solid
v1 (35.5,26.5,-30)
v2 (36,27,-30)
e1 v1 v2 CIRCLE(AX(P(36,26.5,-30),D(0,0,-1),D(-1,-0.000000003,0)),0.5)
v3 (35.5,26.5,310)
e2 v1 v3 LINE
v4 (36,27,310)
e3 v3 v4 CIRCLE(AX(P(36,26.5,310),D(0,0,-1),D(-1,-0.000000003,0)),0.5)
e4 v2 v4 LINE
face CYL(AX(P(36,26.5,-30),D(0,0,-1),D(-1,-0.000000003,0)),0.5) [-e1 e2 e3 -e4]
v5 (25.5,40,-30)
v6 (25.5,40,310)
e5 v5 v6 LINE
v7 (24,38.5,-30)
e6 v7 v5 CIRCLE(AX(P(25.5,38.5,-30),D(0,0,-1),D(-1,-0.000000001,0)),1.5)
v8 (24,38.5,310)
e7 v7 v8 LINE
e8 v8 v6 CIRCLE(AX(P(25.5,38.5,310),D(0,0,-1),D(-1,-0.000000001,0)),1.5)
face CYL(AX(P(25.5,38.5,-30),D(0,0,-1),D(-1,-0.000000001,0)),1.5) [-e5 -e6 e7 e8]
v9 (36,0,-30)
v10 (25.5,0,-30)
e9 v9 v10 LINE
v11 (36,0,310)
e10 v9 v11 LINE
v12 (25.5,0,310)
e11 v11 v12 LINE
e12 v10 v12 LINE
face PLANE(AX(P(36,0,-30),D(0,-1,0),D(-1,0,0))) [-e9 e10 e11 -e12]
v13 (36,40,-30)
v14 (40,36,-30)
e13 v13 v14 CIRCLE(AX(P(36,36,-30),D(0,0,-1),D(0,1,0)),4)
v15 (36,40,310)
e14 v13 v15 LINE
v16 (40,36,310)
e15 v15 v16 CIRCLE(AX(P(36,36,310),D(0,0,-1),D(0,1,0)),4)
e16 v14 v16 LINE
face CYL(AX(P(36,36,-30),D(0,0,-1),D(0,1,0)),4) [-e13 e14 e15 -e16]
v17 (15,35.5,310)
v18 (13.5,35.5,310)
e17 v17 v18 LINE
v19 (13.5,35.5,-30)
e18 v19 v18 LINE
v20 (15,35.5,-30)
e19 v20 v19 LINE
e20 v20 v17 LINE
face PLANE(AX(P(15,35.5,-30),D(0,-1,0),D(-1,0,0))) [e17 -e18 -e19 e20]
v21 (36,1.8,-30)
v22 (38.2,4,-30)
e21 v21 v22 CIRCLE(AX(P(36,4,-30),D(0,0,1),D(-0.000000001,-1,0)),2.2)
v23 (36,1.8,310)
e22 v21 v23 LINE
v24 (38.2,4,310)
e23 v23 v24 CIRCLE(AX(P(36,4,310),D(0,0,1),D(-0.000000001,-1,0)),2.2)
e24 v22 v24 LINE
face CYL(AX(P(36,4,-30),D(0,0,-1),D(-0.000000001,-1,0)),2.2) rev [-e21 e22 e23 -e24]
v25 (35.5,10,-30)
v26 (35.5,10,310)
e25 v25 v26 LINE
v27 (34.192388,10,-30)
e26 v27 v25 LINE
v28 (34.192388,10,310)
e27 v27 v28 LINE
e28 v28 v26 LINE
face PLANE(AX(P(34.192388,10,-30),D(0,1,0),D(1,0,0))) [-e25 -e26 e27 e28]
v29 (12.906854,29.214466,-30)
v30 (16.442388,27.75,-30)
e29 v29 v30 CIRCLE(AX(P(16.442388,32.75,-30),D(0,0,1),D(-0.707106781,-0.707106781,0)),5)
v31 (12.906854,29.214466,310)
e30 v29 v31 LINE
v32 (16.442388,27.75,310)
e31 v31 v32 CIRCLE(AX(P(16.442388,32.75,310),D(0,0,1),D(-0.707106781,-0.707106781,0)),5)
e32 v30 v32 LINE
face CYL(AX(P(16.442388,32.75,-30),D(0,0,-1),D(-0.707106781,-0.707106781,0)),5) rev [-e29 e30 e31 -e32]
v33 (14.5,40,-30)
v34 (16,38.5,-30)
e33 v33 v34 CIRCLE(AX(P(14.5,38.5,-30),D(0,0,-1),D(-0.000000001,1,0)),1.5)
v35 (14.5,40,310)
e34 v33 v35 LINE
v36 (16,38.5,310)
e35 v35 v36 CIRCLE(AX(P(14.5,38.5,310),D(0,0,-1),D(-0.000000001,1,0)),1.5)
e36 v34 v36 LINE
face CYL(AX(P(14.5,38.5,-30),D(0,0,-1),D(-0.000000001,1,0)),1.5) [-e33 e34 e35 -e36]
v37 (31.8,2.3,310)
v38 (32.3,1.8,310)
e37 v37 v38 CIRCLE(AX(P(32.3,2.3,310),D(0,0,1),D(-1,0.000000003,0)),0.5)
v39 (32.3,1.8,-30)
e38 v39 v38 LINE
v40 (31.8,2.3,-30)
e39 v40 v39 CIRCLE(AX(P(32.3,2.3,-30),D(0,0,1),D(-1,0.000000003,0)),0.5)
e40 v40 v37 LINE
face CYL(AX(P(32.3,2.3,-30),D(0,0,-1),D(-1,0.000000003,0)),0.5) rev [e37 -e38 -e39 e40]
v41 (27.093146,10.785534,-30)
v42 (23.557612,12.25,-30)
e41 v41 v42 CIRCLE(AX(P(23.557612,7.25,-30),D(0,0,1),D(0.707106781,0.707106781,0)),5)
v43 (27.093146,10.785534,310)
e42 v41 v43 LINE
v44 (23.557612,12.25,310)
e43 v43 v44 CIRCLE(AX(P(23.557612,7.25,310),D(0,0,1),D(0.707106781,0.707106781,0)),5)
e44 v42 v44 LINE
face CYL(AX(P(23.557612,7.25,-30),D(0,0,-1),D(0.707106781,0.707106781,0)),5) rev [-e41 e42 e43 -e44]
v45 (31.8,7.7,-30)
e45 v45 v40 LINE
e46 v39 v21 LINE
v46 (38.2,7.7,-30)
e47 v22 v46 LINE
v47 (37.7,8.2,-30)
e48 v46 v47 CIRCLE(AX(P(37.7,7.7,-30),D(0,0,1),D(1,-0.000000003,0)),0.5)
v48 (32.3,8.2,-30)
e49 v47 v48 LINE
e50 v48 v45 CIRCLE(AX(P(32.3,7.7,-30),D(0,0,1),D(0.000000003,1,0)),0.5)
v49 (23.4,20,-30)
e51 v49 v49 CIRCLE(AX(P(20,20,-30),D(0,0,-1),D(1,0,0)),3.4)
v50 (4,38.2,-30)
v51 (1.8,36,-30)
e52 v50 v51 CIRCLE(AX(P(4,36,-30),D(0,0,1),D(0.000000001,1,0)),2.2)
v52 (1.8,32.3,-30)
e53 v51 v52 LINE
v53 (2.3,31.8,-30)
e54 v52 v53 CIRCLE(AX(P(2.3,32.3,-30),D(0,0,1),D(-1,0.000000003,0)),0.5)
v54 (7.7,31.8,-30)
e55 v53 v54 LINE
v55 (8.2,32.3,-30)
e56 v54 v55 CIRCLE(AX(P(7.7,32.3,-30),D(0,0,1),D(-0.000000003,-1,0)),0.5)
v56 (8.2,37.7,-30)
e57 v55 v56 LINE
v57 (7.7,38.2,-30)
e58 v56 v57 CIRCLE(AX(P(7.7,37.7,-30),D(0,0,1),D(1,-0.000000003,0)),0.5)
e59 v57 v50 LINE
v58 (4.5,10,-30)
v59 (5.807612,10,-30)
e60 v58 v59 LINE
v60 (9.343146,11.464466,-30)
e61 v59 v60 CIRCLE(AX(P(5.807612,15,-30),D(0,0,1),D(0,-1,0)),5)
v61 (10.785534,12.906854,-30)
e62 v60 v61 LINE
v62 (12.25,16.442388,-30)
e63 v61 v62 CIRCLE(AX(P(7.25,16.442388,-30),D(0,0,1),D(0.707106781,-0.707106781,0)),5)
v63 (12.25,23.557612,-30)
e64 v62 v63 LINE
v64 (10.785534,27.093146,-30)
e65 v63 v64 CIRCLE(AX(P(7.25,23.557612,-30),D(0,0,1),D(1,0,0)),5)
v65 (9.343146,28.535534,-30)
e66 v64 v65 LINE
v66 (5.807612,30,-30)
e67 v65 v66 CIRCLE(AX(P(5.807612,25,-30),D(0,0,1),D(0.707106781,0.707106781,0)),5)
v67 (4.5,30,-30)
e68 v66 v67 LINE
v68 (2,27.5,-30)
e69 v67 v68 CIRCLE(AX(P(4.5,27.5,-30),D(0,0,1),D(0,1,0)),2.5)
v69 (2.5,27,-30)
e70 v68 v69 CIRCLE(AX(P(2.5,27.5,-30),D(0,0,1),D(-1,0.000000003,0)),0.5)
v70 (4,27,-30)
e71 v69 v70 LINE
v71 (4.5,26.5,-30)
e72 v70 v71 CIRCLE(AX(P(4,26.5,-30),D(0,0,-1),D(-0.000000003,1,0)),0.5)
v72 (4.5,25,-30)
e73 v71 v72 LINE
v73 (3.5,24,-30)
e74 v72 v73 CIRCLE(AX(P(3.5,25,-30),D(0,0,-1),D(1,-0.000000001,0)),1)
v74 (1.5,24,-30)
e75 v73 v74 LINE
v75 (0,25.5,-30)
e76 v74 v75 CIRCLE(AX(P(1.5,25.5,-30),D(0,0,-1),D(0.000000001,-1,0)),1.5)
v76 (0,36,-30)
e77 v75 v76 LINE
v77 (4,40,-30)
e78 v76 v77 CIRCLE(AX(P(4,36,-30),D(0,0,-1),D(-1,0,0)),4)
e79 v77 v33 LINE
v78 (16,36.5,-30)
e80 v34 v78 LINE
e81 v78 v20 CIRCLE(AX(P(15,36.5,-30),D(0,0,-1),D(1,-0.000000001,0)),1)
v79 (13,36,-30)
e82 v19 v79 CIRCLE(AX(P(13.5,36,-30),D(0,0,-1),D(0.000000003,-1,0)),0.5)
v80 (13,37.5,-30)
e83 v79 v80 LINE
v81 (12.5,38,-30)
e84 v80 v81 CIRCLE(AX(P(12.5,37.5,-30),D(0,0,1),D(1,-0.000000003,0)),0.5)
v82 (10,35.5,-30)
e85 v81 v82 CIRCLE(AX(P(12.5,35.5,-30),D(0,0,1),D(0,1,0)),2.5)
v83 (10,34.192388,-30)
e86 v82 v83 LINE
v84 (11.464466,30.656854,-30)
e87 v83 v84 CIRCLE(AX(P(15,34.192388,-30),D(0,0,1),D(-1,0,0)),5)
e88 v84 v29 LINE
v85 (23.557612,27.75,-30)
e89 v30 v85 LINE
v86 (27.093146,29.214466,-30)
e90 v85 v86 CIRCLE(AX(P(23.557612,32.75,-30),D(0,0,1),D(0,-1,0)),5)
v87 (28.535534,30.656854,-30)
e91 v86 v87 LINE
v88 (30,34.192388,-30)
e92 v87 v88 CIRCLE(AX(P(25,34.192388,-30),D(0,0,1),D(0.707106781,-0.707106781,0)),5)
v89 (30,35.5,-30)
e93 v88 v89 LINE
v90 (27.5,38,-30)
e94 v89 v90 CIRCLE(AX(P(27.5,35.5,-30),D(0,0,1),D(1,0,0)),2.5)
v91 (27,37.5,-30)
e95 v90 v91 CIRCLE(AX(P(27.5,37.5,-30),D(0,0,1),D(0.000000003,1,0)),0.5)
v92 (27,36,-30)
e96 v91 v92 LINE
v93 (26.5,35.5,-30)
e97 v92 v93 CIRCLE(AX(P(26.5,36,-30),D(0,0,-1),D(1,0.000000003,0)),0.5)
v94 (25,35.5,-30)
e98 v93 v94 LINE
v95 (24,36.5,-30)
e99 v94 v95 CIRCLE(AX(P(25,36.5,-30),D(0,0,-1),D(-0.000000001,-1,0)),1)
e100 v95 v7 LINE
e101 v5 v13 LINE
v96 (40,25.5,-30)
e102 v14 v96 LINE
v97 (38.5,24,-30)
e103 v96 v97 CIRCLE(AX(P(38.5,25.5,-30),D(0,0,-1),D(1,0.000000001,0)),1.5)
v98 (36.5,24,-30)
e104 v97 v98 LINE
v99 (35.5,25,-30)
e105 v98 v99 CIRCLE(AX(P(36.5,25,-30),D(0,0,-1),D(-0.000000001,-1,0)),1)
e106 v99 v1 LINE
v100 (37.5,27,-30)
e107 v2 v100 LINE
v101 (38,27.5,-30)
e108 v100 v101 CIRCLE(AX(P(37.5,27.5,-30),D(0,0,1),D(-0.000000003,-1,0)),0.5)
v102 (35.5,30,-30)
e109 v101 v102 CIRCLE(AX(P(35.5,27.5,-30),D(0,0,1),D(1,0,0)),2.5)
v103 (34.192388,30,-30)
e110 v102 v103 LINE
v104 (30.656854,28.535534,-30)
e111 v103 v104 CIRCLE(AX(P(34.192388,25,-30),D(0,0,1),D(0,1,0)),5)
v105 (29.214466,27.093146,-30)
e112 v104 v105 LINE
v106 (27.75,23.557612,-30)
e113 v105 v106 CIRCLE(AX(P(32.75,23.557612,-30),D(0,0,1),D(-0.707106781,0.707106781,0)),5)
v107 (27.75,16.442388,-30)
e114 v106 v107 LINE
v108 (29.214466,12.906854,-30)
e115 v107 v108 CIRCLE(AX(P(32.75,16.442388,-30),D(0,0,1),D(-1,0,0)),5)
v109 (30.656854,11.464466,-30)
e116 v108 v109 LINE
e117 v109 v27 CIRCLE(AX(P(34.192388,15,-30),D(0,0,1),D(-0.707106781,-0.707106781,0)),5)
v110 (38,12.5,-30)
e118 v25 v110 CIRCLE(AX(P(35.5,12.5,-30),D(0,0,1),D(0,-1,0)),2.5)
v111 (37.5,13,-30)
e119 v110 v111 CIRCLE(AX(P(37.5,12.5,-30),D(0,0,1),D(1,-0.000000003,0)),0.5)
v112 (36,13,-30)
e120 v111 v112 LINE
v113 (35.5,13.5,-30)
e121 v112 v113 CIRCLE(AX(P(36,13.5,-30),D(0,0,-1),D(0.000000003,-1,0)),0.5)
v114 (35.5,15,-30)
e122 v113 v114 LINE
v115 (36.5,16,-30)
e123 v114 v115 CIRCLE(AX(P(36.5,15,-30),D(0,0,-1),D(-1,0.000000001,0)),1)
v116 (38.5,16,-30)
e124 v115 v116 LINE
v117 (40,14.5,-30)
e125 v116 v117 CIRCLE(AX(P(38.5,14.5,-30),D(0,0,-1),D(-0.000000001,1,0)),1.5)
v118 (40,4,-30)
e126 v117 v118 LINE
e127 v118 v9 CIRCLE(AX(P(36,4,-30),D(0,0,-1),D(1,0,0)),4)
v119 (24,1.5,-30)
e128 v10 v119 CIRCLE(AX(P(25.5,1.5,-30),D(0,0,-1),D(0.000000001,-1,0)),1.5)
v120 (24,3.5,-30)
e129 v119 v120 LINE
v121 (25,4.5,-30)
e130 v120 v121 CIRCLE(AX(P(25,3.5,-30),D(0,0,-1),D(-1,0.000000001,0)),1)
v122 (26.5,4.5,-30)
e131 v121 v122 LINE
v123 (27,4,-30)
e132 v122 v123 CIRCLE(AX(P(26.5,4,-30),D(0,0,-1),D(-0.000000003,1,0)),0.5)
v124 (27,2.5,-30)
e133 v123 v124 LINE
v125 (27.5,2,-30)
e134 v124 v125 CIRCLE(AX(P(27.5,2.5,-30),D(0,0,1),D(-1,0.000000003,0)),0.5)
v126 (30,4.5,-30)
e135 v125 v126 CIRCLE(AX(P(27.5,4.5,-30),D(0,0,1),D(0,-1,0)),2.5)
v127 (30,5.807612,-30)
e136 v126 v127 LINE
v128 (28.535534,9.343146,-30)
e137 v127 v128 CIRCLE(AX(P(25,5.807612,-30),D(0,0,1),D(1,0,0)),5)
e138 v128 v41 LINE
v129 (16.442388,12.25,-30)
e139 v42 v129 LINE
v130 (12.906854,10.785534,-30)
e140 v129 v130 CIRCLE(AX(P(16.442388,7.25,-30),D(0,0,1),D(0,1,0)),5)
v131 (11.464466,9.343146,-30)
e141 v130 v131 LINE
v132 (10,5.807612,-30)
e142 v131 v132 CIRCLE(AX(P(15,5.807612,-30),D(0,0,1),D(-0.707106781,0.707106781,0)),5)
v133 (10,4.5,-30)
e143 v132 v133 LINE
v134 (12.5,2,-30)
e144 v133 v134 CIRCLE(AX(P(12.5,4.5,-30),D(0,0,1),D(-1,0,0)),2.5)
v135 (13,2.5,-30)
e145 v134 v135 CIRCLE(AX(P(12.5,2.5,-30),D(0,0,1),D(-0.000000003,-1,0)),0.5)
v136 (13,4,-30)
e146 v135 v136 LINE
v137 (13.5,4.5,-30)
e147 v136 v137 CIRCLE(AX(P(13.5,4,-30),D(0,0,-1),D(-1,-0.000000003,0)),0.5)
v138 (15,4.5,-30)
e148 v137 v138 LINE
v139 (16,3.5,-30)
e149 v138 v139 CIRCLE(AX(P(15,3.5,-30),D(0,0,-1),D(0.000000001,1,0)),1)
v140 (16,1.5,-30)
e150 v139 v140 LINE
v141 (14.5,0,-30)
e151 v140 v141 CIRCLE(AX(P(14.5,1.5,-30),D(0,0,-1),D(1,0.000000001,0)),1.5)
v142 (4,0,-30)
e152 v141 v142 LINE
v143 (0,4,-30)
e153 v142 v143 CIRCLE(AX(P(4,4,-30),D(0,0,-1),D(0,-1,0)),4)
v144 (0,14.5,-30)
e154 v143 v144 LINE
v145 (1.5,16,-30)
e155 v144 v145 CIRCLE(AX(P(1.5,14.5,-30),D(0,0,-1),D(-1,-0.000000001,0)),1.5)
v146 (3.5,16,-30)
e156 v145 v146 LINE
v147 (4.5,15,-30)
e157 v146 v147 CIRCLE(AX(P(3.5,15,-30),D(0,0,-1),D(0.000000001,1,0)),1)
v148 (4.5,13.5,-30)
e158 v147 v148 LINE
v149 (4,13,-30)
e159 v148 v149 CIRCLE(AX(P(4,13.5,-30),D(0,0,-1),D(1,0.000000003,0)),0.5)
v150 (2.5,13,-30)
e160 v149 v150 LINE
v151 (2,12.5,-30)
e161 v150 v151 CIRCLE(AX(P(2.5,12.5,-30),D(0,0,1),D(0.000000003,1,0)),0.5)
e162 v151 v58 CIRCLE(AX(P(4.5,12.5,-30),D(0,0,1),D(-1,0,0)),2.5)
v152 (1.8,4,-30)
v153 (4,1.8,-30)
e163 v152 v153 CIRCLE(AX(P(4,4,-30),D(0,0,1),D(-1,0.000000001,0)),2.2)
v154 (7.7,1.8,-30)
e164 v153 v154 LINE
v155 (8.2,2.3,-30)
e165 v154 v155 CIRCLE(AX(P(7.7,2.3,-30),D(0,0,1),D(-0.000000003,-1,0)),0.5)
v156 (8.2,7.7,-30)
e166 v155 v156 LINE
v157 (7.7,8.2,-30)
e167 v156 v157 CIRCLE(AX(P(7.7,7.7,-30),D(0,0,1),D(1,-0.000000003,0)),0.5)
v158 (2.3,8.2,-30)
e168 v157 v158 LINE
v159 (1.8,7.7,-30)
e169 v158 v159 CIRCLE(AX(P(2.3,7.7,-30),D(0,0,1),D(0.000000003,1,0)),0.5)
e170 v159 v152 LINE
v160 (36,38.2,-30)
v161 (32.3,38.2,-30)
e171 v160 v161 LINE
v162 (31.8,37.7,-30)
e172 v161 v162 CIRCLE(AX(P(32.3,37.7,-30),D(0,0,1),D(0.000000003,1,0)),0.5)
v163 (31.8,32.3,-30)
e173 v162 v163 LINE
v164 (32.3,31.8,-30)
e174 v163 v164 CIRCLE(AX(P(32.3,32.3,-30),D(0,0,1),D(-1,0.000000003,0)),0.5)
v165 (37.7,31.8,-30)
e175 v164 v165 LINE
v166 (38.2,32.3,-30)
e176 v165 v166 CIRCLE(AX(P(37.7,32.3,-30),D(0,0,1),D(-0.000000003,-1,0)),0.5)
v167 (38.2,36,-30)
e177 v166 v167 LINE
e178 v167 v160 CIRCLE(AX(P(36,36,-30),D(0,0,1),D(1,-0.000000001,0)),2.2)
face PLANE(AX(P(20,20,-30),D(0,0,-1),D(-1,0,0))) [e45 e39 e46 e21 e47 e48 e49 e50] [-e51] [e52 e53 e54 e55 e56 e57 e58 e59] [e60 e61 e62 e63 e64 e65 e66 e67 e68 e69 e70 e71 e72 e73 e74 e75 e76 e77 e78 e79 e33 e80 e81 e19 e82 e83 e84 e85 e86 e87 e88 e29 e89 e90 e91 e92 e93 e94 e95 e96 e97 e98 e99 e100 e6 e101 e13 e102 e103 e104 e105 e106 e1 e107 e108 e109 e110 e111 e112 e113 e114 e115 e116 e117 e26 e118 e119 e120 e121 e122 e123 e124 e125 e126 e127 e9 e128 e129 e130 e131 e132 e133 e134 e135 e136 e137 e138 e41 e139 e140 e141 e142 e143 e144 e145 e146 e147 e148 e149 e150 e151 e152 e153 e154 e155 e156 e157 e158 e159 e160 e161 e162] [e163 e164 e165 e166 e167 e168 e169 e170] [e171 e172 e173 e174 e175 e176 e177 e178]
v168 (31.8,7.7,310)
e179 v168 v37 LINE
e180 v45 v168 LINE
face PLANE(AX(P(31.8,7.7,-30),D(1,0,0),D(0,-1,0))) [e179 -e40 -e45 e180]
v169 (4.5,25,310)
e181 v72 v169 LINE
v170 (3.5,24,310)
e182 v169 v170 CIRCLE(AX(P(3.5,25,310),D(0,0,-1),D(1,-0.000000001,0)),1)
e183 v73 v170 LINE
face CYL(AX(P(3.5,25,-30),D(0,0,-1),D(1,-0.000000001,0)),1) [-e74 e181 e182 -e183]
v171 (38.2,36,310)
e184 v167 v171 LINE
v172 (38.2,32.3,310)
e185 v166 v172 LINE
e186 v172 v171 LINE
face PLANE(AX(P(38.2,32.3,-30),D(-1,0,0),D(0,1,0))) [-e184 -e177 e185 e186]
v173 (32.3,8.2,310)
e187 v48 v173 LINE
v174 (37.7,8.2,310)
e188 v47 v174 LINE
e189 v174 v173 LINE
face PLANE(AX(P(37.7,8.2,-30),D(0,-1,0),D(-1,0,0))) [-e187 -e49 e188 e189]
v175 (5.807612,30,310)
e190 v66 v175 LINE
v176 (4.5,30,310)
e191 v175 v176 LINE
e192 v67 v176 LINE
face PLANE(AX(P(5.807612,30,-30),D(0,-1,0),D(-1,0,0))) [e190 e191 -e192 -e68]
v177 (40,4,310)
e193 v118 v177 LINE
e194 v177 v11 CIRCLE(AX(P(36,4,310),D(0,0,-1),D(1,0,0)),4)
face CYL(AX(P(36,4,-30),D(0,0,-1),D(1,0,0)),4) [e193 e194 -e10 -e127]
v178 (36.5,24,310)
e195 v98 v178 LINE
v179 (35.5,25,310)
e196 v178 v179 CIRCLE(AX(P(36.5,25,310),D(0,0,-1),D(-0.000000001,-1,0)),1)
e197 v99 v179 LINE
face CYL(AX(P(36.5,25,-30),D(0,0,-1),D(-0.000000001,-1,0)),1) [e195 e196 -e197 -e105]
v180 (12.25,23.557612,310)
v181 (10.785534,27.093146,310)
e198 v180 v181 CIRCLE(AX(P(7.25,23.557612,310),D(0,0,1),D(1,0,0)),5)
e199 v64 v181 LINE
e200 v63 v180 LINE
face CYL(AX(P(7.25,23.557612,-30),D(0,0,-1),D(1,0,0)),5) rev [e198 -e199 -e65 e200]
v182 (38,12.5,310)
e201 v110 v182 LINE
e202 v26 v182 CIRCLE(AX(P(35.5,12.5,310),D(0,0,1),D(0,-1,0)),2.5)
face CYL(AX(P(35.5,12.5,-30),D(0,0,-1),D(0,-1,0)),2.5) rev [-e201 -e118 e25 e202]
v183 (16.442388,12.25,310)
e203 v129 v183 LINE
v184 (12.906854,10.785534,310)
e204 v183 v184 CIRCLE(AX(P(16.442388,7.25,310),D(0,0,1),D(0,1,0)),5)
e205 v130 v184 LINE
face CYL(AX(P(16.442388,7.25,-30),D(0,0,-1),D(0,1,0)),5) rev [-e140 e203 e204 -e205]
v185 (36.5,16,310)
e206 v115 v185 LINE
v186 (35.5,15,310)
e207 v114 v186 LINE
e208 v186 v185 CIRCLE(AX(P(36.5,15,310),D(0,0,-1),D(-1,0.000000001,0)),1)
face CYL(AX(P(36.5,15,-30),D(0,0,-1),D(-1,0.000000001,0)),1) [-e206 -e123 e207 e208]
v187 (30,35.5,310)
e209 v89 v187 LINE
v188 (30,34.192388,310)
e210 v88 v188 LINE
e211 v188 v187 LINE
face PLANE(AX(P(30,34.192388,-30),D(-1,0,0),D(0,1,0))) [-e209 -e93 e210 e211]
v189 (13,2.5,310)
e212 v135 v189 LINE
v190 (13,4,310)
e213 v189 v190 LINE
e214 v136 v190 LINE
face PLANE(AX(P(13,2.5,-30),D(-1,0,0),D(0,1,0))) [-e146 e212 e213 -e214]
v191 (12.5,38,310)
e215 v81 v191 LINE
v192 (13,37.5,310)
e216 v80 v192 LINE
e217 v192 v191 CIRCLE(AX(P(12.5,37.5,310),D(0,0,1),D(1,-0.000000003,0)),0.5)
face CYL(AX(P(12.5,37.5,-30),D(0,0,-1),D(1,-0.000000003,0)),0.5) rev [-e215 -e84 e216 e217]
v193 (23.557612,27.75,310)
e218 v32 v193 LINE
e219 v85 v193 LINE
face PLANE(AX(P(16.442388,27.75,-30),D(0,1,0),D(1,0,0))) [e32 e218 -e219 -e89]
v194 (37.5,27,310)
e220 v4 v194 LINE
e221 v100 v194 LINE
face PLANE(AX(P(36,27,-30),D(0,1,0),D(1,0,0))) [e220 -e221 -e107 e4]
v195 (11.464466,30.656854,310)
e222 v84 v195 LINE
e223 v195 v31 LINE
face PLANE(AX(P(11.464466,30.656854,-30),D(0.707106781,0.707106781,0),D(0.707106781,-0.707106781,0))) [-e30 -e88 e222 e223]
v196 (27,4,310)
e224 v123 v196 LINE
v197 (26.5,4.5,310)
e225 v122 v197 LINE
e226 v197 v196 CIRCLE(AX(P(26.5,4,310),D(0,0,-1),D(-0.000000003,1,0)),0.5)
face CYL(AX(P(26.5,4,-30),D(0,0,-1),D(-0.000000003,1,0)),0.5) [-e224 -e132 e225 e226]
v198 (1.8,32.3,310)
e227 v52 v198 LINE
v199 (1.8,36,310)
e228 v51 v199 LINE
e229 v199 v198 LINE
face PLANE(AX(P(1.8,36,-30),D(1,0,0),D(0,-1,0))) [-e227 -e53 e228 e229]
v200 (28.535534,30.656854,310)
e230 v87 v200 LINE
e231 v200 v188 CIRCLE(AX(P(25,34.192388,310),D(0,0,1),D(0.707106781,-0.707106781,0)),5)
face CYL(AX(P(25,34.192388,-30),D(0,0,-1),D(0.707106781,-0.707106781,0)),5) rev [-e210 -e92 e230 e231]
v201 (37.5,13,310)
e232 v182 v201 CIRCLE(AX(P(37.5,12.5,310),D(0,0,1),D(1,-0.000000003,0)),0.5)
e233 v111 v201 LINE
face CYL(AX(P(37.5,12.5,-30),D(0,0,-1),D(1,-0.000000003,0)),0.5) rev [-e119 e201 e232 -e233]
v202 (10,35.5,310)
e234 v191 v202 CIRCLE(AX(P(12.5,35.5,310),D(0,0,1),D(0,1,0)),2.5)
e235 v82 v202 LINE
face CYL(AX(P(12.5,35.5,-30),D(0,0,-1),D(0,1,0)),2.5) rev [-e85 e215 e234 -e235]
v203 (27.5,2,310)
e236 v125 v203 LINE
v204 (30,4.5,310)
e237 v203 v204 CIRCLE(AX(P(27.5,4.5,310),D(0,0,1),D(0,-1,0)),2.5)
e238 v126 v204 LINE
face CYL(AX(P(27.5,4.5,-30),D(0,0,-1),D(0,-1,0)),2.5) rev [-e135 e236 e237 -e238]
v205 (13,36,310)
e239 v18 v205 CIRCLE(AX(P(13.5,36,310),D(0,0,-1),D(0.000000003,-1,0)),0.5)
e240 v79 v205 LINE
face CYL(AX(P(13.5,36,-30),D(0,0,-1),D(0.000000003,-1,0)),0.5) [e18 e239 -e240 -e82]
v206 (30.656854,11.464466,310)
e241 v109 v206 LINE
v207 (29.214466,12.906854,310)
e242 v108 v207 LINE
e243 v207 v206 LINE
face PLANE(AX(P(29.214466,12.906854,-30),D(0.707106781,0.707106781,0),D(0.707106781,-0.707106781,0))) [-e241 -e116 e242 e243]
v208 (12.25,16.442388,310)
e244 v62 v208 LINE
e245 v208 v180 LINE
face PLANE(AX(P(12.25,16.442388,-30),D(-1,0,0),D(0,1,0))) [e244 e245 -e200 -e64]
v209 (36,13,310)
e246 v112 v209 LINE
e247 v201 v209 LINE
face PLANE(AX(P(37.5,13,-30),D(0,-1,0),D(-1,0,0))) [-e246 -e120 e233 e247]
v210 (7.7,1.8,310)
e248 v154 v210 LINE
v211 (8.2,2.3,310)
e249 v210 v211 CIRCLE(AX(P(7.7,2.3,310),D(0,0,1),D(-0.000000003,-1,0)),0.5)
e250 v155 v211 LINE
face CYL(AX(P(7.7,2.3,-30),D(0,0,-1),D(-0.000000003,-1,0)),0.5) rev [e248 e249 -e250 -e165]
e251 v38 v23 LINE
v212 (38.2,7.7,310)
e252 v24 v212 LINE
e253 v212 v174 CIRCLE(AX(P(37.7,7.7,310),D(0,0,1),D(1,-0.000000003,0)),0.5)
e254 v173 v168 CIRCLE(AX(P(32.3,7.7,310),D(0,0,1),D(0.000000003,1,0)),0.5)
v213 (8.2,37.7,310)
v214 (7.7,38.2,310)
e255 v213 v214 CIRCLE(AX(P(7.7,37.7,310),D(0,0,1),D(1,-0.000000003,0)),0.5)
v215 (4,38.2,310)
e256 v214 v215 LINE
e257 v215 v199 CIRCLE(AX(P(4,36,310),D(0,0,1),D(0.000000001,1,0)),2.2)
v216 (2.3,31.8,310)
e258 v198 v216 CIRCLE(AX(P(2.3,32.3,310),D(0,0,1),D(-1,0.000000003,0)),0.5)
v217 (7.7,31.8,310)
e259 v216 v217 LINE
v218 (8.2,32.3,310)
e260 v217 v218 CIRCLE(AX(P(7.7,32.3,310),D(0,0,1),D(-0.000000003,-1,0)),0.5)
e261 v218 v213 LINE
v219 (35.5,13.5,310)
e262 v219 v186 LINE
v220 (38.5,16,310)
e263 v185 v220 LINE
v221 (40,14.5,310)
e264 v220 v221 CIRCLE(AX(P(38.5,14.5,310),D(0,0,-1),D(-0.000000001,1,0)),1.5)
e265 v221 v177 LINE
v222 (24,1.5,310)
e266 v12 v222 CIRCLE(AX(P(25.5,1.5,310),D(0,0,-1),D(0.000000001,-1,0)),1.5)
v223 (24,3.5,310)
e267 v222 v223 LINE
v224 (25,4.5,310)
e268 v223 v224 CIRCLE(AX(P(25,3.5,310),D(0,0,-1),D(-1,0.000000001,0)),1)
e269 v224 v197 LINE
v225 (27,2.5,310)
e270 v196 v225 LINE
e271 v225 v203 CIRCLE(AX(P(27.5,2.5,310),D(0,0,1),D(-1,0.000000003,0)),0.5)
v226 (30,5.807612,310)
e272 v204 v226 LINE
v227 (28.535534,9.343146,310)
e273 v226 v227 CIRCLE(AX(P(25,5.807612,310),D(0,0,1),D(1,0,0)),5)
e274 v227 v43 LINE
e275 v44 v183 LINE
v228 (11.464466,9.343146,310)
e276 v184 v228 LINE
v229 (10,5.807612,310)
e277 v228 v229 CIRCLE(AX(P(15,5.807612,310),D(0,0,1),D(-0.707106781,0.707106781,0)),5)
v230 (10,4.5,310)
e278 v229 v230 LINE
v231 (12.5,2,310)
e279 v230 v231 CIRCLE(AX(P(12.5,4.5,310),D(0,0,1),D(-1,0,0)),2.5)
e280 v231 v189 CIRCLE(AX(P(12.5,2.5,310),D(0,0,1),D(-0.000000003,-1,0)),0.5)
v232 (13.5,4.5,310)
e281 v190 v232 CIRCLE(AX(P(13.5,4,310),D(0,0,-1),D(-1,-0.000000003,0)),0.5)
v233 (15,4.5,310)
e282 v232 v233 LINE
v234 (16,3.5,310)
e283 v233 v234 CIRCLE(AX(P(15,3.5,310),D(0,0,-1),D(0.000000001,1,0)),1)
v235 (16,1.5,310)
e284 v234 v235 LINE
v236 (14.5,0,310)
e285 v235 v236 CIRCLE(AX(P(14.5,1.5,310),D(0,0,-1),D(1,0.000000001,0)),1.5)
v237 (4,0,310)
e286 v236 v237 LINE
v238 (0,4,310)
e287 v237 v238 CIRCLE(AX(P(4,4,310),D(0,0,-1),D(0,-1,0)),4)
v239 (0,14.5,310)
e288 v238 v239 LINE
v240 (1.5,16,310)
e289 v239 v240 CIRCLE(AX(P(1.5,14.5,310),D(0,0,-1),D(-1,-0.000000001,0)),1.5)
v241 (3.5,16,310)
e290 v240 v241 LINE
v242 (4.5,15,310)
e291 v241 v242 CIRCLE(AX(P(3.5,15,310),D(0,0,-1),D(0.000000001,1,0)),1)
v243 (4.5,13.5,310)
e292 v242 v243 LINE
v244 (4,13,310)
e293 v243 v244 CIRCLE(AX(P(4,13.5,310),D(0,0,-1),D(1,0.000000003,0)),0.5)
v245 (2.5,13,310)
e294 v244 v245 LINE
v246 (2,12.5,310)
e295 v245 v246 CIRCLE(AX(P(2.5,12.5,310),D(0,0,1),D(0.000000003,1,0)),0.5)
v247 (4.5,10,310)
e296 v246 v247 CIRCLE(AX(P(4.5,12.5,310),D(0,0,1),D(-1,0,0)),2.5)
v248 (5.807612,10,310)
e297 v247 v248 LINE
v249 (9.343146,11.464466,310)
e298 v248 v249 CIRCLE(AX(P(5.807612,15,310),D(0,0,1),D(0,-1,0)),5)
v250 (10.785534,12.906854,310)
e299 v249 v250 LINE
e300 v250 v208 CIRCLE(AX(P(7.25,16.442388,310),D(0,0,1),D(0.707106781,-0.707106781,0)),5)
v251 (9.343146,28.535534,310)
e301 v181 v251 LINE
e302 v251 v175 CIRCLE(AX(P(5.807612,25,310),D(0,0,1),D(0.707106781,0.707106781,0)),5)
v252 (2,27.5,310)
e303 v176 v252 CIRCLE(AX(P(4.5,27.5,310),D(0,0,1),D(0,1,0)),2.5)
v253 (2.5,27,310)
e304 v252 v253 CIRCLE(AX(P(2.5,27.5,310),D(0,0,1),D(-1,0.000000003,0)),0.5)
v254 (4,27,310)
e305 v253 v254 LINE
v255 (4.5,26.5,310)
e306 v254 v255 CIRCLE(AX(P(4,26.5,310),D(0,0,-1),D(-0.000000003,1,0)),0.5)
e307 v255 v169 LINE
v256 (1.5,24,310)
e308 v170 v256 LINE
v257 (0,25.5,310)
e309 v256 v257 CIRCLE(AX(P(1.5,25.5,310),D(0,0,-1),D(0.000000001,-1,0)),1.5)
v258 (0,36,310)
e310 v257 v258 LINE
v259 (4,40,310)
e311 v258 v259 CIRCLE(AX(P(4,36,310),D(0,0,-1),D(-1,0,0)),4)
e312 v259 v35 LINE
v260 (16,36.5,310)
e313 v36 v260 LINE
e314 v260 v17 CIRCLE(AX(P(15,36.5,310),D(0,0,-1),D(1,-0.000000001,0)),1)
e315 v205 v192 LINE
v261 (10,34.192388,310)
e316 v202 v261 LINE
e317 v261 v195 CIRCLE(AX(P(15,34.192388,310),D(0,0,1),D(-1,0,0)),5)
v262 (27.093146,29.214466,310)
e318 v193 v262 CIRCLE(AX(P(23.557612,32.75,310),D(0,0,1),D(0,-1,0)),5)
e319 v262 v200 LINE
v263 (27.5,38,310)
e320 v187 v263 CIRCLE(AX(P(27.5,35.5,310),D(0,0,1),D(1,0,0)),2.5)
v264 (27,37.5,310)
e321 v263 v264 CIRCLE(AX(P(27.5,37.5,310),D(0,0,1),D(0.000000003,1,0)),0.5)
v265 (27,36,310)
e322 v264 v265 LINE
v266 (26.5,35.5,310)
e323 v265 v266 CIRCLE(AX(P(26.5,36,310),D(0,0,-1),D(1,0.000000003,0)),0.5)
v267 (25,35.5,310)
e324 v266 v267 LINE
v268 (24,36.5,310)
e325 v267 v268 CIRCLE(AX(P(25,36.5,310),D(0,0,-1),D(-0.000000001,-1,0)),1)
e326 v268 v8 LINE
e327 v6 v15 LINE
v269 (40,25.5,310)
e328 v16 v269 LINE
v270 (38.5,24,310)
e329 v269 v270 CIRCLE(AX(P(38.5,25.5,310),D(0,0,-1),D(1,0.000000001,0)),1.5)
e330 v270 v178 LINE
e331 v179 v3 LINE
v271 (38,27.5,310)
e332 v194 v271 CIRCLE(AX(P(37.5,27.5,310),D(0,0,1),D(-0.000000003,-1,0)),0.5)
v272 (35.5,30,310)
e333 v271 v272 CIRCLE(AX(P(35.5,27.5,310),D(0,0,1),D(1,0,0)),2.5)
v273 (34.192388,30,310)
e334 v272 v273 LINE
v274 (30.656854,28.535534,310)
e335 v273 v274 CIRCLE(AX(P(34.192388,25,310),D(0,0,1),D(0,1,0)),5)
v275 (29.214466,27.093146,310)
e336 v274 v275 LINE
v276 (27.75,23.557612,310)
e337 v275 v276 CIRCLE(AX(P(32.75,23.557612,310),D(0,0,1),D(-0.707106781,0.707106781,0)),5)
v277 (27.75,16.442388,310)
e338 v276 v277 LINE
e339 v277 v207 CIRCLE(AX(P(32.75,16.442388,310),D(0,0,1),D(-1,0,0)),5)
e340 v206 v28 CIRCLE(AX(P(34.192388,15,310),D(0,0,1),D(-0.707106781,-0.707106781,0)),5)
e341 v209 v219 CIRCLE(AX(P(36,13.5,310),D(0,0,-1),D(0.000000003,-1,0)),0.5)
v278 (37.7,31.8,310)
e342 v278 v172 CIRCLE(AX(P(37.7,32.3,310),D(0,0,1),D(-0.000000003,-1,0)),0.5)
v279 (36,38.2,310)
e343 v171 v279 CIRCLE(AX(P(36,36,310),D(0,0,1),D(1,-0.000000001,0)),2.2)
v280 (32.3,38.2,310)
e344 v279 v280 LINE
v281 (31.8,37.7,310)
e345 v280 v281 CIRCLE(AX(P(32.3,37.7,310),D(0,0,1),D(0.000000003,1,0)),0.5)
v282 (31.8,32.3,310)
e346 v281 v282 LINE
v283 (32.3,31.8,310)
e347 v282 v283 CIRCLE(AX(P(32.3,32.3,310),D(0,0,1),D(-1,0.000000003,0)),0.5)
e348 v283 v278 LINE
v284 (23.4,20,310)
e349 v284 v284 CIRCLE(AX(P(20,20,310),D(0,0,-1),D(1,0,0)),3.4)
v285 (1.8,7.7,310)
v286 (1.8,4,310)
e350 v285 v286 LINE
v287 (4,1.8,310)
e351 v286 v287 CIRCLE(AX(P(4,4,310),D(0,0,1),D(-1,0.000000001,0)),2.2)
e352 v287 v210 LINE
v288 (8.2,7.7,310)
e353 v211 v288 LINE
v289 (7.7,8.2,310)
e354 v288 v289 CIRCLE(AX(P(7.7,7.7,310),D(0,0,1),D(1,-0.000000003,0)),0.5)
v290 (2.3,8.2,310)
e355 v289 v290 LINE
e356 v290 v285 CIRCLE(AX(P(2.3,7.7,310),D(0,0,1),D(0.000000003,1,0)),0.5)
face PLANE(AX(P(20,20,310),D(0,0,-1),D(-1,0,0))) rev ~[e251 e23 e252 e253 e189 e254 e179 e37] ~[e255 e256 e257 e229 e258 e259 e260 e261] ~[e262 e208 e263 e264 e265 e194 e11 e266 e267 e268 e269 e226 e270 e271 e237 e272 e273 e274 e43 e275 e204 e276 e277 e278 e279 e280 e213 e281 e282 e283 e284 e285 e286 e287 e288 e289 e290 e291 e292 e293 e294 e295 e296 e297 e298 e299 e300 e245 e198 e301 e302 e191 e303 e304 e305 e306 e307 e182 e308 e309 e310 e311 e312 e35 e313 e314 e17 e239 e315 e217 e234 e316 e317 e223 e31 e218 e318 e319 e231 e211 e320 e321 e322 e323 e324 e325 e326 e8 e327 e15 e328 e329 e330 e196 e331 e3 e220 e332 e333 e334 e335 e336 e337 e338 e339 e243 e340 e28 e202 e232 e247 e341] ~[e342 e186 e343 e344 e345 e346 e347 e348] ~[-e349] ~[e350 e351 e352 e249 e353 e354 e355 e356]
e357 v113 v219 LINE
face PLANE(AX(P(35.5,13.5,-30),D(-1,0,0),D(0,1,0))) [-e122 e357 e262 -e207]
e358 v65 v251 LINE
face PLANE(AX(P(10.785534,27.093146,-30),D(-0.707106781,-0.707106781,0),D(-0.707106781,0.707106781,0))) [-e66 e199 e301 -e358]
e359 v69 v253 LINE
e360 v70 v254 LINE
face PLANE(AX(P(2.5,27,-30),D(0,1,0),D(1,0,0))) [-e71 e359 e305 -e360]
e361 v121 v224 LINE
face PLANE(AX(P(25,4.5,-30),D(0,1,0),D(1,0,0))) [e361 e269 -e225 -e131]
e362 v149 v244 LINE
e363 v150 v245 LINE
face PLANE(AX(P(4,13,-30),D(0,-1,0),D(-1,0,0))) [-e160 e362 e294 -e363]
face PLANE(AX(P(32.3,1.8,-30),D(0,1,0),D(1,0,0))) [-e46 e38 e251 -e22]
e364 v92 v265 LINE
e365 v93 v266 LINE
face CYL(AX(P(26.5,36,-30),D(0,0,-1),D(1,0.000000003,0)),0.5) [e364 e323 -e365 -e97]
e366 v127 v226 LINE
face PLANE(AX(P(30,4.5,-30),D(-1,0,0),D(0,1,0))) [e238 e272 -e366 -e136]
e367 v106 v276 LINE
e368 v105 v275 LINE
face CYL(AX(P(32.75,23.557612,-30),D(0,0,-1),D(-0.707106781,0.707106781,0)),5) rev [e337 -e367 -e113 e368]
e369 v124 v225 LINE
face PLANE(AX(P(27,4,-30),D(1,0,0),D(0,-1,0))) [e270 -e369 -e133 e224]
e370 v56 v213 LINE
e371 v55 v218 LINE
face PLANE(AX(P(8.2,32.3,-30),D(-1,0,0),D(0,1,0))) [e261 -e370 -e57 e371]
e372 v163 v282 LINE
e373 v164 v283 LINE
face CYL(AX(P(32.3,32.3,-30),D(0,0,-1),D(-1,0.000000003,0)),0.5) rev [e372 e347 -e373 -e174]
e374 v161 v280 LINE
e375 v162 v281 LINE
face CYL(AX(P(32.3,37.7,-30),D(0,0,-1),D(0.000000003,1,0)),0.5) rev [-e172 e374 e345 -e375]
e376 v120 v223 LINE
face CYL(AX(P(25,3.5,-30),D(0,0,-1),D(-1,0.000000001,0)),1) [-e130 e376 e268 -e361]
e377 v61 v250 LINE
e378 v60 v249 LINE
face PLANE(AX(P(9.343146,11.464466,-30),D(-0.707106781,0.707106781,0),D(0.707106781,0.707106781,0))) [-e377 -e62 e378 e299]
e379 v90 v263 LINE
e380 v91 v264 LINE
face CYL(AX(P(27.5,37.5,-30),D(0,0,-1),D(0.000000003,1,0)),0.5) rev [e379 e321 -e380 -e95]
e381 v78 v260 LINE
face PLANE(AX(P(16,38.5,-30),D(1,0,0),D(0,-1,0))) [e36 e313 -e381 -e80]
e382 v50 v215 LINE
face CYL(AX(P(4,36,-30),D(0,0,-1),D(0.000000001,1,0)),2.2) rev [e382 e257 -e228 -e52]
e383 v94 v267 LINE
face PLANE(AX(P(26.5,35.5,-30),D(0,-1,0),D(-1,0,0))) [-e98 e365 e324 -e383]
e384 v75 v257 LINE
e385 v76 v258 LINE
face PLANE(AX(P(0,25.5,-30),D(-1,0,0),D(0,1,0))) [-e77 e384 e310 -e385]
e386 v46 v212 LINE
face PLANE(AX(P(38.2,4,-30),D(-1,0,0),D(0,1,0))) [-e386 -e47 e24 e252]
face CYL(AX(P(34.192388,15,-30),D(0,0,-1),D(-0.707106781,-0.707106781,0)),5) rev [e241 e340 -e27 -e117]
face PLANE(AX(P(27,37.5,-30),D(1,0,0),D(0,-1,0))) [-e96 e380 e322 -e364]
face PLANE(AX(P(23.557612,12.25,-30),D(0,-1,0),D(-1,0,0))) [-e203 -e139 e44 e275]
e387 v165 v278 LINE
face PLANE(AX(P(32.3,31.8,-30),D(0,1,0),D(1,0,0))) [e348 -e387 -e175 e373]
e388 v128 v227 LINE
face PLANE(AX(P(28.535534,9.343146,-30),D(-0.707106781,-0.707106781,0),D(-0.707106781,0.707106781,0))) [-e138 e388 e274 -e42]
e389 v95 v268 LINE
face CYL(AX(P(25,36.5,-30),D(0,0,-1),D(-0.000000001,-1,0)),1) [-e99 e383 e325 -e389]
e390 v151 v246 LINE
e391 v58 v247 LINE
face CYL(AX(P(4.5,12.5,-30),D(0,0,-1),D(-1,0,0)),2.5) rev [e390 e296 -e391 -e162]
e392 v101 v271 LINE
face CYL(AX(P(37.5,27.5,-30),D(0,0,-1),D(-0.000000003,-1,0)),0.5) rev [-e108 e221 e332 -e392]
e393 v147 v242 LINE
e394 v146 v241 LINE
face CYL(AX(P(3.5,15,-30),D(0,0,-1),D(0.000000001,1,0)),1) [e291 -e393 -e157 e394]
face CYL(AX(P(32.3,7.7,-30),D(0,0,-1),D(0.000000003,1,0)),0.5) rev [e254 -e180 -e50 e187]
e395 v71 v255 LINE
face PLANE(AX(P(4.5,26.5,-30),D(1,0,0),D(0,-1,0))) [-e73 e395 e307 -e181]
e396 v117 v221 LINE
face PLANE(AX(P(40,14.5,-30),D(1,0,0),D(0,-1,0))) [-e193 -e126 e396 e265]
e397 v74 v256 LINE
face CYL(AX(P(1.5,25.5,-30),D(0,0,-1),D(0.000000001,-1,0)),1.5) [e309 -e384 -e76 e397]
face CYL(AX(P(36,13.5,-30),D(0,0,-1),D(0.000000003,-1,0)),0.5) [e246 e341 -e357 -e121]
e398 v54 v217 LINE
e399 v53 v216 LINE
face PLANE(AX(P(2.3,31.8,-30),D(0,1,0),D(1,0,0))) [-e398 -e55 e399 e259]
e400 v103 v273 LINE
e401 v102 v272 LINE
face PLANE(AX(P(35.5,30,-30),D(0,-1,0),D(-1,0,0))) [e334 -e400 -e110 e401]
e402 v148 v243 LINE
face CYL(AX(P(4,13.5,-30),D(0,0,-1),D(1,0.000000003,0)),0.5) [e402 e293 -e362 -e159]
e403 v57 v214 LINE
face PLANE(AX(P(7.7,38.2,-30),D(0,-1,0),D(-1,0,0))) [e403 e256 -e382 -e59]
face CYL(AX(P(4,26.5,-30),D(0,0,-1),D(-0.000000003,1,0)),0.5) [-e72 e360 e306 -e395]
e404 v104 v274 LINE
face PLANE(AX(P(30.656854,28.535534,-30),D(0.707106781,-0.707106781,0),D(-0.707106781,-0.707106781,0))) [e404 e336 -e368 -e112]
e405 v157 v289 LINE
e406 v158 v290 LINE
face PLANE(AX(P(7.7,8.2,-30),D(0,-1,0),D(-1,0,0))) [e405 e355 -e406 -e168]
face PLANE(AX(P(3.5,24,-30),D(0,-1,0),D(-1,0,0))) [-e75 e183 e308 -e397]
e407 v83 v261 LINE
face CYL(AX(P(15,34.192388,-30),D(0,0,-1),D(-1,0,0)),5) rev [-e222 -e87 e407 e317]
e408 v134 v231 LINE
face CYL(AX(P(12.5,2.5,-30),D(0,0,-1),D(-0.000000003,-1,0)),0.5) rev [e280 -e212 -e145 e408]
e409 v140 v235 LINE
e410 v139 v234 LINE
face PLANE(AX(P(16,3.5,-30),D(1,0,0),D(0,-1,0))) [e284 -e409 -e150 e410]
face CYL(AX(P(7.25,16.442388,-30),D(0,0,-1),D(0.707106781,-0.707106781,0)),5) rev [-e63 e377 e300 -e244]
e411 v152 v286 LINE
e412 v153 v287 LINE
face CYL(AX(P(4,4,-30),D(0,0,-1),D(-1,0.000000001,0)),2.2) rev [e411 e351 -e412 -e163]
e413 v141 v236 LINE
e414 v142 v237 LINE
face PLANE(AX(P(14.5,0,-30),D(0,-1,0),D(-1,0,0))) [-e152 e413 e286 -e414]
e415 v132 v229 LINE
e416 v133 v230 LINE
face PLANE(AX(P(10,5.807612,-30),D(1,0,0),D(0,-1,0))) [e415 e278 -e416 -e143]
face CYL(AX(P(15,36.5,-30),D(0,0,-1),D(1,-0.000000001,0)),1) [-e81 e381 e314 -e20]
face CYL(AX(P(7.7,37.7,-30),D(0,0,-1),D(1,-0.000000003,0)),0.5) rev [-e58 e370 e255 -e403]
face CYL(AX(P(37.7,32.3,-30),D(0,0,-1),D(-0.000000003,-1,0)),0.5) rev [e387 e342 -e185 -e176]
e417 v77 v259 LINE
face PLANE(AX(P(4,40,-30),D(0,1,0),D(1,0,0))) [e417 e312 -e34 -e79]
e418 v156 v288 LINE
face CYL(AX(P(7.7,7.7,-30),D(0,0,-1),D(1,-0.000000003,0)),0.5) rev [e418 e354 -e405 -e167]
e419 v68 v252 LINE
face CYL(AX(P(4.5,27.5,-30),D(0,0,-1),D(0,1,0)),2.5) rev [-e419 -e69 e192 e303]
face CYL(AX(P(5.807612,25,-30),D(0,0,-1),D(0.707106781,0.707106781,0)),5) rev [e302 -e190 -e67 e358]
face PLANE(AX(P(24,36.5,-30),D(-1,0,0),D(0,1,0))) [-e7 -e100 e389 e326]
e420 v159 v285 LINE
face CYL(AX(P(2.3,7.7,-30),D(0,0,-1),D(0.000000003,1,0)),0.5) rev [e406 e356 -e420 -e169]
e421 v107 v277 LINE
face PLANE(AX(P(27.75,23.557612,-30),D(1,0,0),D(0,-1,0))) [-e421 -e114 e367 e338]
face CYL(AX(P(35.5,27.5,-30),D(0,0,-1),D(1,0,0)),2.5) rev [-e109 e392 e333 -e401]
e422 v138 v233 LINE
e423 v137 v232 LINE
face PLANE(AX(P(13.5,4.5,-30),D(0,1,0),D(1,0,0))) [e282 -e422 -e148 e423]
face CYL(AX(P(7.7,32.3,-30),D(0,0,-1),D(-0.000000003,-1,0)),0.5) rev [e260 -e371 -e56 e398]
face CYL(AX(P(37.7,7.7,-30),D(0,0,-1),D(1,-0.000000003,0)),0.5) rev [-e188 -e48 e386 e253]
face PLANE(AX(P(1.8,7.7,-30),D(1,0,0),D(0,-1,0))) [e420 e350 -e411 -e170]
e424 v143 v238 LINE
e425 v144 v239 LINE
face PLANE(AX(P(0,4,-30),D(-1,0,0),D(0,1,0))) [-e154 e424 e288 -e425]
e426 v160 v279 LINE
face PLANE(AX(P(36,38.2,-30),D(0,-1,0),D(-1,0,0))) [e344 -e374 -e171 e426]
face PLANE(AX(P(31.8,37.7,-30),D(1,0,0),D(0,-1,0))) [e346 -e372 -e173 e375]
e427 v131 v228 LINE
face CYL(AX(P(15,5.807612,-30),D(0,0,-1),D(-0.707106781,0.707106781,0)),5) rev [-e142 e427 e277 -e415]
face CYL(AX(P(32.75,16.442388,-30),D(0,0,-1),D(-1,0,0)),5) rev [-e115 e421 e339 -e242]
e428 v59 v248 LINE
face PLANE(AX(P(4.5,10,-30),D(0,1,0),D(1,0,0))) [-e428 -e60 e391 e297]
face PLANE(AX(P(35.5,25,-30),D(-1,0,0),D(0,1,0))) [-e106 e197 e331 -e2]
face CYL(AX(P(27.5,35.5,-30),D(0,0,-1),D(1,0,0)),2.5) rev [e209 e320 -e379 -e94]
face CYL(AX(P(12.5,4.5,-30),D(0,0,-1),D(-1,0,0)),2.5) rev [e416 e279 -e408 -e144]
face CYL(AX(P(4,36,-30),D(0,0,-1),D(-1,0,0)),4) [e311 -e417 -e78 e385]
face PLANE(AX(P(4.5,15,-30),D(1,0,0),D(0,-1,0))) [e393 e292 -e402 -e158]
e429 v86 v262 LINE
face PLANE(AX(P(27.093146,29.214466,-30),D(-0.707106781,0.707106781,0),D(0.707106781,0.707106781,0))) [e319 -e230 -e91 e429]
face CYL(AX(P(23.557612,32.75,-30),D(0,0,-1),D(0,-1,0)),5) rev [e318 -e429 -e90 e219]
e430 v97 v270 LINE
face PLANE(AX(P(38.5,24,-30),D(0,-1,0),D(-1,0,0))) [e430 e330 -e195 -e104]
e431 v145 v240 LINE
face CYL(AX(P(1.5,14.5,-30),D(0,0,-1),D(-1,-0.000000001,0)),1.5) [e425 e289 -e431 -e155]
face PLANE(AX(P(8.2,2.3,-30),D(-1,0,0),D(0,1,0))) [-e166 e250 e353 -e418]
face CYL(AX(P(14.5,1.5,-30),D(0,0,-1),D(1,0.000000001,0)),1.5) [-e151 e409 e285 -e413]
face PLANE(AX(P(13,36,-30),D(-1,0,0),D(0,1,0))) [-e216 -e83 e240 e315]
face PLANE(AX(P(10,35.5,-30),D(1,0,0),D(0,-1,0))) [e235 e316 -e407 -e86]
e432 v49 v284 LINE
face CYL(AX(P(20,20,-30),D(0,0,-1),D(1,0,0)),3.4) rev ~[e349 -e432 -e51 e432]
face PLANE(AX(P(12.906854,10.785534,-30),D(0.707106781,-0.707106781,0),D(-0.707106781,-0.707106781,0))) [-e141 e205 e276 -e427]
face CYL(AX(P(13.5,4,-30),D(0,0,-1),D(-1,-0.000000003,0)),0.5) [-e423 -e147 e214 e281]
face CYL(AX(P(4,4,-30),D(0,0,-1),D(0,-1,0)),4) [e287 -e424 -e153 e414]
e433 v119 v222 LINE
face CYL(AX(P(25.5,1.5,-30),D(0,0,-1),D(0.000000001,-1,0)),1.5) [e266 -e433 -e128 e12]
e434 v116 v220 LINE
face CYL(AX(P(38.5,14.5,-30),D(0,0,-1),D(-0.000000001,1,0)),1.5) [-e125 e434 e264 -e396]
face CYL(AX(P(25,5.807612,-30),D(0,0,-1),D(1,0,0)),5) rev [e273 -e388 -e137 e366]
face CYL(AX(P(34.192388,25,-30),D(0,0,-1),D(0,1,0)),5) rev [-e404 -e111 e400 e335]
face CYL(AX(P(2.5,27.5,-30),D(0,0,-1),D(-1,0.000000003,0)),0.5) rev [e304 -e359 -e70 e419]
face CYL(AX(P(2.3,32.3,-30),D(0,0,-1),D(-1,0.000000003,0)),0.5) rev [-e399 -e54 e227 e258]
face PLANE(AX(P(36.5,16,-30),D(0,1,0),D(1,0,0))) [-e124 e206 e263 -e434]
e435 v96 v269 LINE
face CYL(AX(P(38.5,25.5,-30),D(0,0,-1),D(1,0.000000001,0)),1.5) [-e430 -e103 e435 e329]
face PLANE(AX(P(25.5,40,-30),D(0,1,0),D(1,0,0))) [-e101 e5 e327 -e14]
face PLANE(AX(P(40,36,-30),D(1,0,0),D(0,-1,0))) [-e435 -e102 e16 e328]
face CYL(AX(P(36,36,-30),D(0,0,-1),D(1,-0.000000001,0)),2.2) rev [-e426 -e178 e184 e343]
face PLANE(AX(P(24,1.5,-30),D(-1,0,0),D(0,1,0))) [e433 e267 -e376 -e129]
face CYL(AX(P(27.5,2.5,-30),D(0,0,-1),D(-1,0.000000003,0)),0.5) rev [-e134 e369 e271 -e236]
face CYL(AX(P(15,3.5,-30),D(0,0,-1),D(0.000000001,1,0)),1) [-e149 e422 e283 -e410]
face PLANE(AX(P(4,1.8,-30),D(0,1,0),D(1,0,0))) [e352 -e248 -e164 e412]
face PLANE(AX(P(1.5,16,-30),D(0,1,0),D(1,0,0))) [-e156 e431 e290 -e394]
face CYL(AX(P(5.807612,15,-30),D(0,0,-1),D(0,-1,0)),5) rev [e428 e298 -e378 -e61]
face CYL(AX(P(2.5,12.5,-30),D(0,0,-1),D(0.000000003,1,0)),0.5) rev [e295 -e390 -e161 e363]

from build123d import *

# Parameters (mm, degrees)
ESQUISSE1_R        = 3.4
BOSS_EXTRU_1_DEPTH = 340


with BuildPart() as part:
    # Esquisse1 → Boss.-Extru.1 (new body)
    with BuildSketch(Plane(origin=(0, 0, -30), x_dir=(-1, 0, 0), z_dir=(0, 0, -1))):
        with BuildLine():
            Line((-4.5, 15), (-4.5, 13.5))
            ThreePointArc((-4.5, 13.5), (-4.353553391, 13.146446609), (-4, 13))
            Line((-4, 13), (-2.5, 13))
            ThreePointArc((-2.5, 13), (-2.146446609, 12.853553391), (-2, 12.5))
            ThreePointArc((-2, 12.5), (-2.732233047, 10.732233047), (-4.5, 10))
            Line((-4.5, 10), (-5.807611845, 10))
            ThreePointArc((-5.807611845, 10), (-7.721029006, 10.380602337), (-9.343145751, 11.464466094))
            Line((-9.343145751, 11.464466094), (-10.785533906, 12.906854249))
            ThreePointArc((-10.785533906, 12.906854249), (-11.869397663, 14.528970994), (-12.25, 16.442388155))
            Line((-12.25, 16.442388155), (-12.25, 23.557611845))
            ThreePointArc((-12.25, 23.557611845), (-11.869397663, 25.471029006), (-10.785533906, 27.093145751))
            Line((-10.785533906, 27.093145751), (-9.343145751, 28.535533906))
            ThreePointArc((-9.343145751, 28.535533906), (-7.721029006, 29.619397663), (-5.807611845, 30))
            Line((-5.807611845, 30), (-4.5, 30))
            ThreePointArc((-4.5, 30), (-2.732233047, 29.267766953), (-2, 27.5))
            ThreePointArc((-2, 27.5), (-2.146446609, 27.146446609), (-2.5, 27))
            Line((-2.5, 27), (-4, 27))
            ThreePointArc((-4, 27), (-4.353553391, 26.853553391), (-4.5, 26.5))
            Line((-4.5, 26.5), (-4.5, 25))
            ThreePointArc((-4.5, 25), (-4.207106781, 24.292893219), (-3.5, 24))
            Line((-3.5, 24), (-1.5, 24))
            ThreePointArc((-1.5, 24), (-0.439339828, 24.439339828), (0, 25.5))
            Line((0, 25.5), (0, 36))
            ThreePointArc((0, 36), (-1.171572875, 38.828427125), (-4, 40))
            Line((-4, 40), (-14.5, 40))
            ThreePointArc((-14.5, 40), (-15.560660172, 39.560660172), (-16, 38.5))
            Line((-16, 38.5), (-16, 36.5))
            ThreePointArc((-16, 36.5), (-15.707106781, 35.792893219), (-15, 35.5))
            Line((-15, 35.5), (-13.5, 35.5))
            ThreePointArc((-13.5, 35.5), (-13.146446609, 35.646446609), (-13, 36))
            Line((-13, 36), (-13, 37.5))
            ThreePointArc((-13, 37.5), (-12.853553391, 37.853553391), (-12.5, 38))
            ThreePointArc((-12.5, 38), (-10.732233047, 37.267766953), (-10, 35.5))
            Line((-10, 35.5), (-10, 34.192388155))
            ThreePointArc((-10, 34.192388155), (-10.380602337, 32.278970994), (-11.464466094, 30.656854249))
            Line((-11.464466094, 30.656854249), (-12.906854249, 29.214466094))
            ThreePointArc((-12.906854249, 29.214466094), (-14.528970994, 28.130602337), (-16.442388155, 27.75))
            Line((-16.442388155, 27.75), (-23.557611845, 27.75))
            ThreePointArc((-23.557611845, 27.75), (-25.471029006, 28.130602337), (-27.093145751, 29.214466094))
            Line((-27.093145751, 29.214466094), (-28.535533906, 30.656854249))
            ThreePointArc((-28.535533906, 30.656854249), (-29.619397663, 32.278970994), (-30, 34.192388155))
            Line((-30, 34.192388155), (-30, 35.5))
            ThreePointArc((-30, 35.5), (-29.267766953, 37.267766953), (-27.5, 38))
            ThreePointArc((-27.5, 38), (-27.146446609, 37.853553391), (-27, 37.5))
            Line((-27, 37.5), (-27, 36))
            ThreePointArc((-27, 36), (-26.853553391, 35.646446609), (-26.5, 35.5))
            Line((-26.5, 35.5), (-25, 35.5))
            ThreePointArc((-25, 35.5), (-24.292893219, 35.792893219), (-24, 36.5))
            Line((-24, 36.5), (-24, 38.5))
            ThreePointArc((-24, 38.5), (-24.439339828, 39.560660172), (-25.5, 40))
            Line((-25.5, 40), (-36, 40))
            ThreePointArc((-36, 40), (-38.828427125, 38.828427125), (-40, 36))
            Line((-40, 36), (-40, 25.5))
            ThreePointArc((-40, 25.5), (-39.560660172, 24.439339828), (-38.5, 24))
            Line((-38.5, 24), (-36.5, 24))
            ThreePointArc((-36.5, 24), (-35.792893219, 24.292893219), (-35.5, 25))
            Line((-35.5, 25), (-35.5, 26.5))
            ThreePointArc((-35.5, 26.5), (-35.646446609, 26.853553391), (-36, 27))
            Line((-36, 27), (-37.5, 27))
            ThreePointArc((-37.5, 27), (-37.853553391, 27.146446609), (-38, 27.5))
            ThreePointArc((-38, 27.5), (-37.267766953, 29.267766953), (-35.5, 30))
            Line((-35.5, 30), (-34.192388155, 30))
            ThreePointArc((-34.192388155, 30), (-32.278970994, 29.619397663), (-30.656854249, 28.535533906))
            Line((-30.656854249, 28.535533906), (-29.214466094, 27.093145751))
            ThreePointArc((-29.214466094, 27.093145751), (-28.130602337, 25.471029006), (-27.75, 23.557611845))
            Line((-27.75, 23.557611845), (-27.75, 16.442388155))
            ThreePointArc((-27.75, 16.442388155), (-28.130602337, 14.528970994), (-29.214466094, 12.906854249))
            Line((-29.214466094, 12.906854249), (-30.656854249, 11.464466094))
            ThreePointArc((-30.656854249, 11.464466094), (-32.278970994, 10.380602337), (-34.192388155, 10))
            Line((-34.192388155, 10), (-35.5, 10))
            ThreePointArc((-35.5, 10), (-37.267766953, 10.732233047), (-38, 12.5))
            ThreePointArc((-38, 12.5), (-37.853553391, 12.853553391), (-37.5, 13))
            Line((-37.5, 13), (-36, 13))
            ThreePointArc((-36, 13), (-35.646446609, 13.146446609), (-35.5, 13.5))
            Line((-35.5, 13.5), (-35.5, 15))
            ThreePointArc((-35.5, 15), (-35.792893219, 15.707106781), (-36.5, 16))
            Line((-36.5, 16), (-38.5, 16))
            ThreePointArc((-38.5, 16), (-39.560660172, 15.560660172), (-40, 14.5))
            Line((-40, 14.5), (-40, 4))
            ThreePointArc((-40, 4), (-38.828427125, 1.171572875), (-36, 0))
            Line((-36, 0), (-25.5, 0))
            ThreePointArc((-25.5, 0), (-24.439339828, 0.439339828), (-24, 1.5))
            Line((-24, 1.5), (-24, 3.5))
            ThreePointArc((-24, 3.5), (-24.292893219, 4.207106781), (-25, 4.5))
            Line((-25, 4.5), (-26.5, 4.5))
            ThreePointArc((-26.5, 4.5), (-26.853553391, 4.353553391), (-27, 4))
            Line((-27, 4), (-27, 2.5))
            ThreePointArc((-27, 2.5), (-27.146446609, 2.146446609), (-27.5, 2))
            ThreePointArc((-27.5, 2), (-29.267766953, 2.732233047), (-30, 4.5))
            Line((-30, 4.5), (-30, 5.807611845))
            ThreePointArc((-30, 5.807611845), (-29.619397663, 7.721029006), (-28.535533906, 9.343145751))
            Line((-28.535533906, 9.343145751), (-27.093145751, 10.785533906))
            ThreePointArc((-27.093145751, 10.785533906), (-25.471029006, 11.869397663), (-23.557611845, 12.25))
            Line((-23.557611845, 12.25), (-16.442388155, 12.25))
            ThreePointArc((-16.442388155, 12.25), (-14.528970994, 11.869397663), (-12.906854249, 10.785533906))
            Line((-12.906854249, 10.785533906), (-11.464466094, 9.343145751))
            ThreePointArc((-11.464466094, 9.343145751), (-10.380602337, 7.721029006), (-10, 5.807611845))
            Line((-10, 5.807611845), (-10, 4.5))
            ThreePointArc((-10, 4.5), (-10.732233047, 2.732233047), (-12.5, 2))
            ThreePointArc((-12.5, 2), (-12.853553391, 2.146446609), (-13, 2.5))
            Line((-13, 2.5), (-13, 4))
            ThreePointArc((-13, 4), (-13.146446609, 4.353553391), (-13.5, 4.5))
            Line((-13.5, 4.5), (-15, 4.5))
            ThreePointArc((-15, 4.5), (-15.707106781, 4.207106781), (-16, 3.5))
            Line((-16, 3.5), (-16, 1.5))
            ThreePointArc((-16, 1.5), (-15.560660172, 0.439339828), (-14.5, 0))
            Line((-14.5, 0), (-4, 0))
            ThreePointArc((-4, 0), (-1.171572875, 1.171572875), (0, 4))
            Line((0, 4), (0, 14.5))
            ThreePointArc((0, 14.5), (-0.439339828, 15.560660172), (-1.5, 16))
            Line((-1.5, 16), (-3.5, 16))
            ThreePointArc((-3.5, 16), (-4.207106781, 15.707106781), (-4.5, 15))
        make_face()
        with Locations(Location((-20, 20, 0), (0, 0, 180))):
            Circle(ESQUISSE1_R, mode=Mode.SUBTRACT)
        with BuildLine():
            Line((-4, 1.8), (-7.7, 1.8))
            ThreePointArc((-7.7, 1.8), (-8.053553391, 1.946446609), (-8.2, 2.3))
            Line((-8.2, 2.3), (-8.2, 7.7))
            ThreePointArc((-8.2, 7.7), (-8.053553391, 8.053553391), (-7.7, 8.2))
            Line((-7.7, 8.2), (-2.3, 8.2))
            ThreePointArc((-2.3, 8.2), (-1.946446609, 8.053553391), (-1.8, 7.7))
            Line((-1.8, 7.7), (-1.8, 4))
            ThreePointArc((-1.8, 4), (-2.444365081, 2.444365081), (-4, 1.8))
        make_face(mode=Mode.SUBTRACT)
        with BuildLine():
            Line((-38.2, 4), (-38.2, 7.7))
            ThreePointArc((-38.2, 7.7), (-38.053553391, 8.053553391), (-37.7, 8.2))
            Line((-37.7, 8.2), (-32.3, 8.2))
            ThreePointArc((-32.3, 8.2), (-31.946446609, 8.053553391), (-31.8, 7.7))
            Line((-31.8, 7.7), (-31.8, 2.3))
            ThreePointArc((-31.8, 2.3), (-31.946446609, 1.946446609), (-32.3, 1.8))
            Line((-32.3, 1.8), (-36, 1.8))
            ThreePointArc((-36, 1.8), (-37.555634919, 2.444365081), (-38.2, 4))
        make_face(mode=Mode.SUBTRACT)
        with BuildLine():
            Line((-36, 38.2), (-32.3, 38.2))
            ThreePointArc((-32.3, 38.2), (-31.946446609, 38.053553391), (-31.8, 37.7))
            Line((-31.8, 37.7), (-31.8, 32.3))
            ThreePointArc((-31.8, 32.3), (-31.946446609, 31.946446609), (-32.3, 31.8))
            Line((-32.3, 31.8), (-37.7, 31.8))
            ThreePointArc((-37.7, 31.8), (-38.053553391, 31.946446609), (-38.2, 32.3))
            Line((-38.2, 32.3), (-38.2, 36))
            ThreePointArc((-38.2, 36), (-37.555634919, 37.555634919), (-36, 38.2))
        make_face(mode=Mode.SUBTRACT)
        with BuildLine():
            Line((-1.8, 36), (-1.8, 32.3))
            ThreePointArc((-1.8, 32.3), (-1.946446609, 31.946446609), (-2.3, 31.8))
            Line((-2.3, 31.8), (-7.7, 31.8))
            ThreePointArc((-7.7, 31.8), (-8.053553391, 31.946446609), (-8.2, 32.3))
            Line((-8.2, 32.3), (-8.2, 37.7))
            ThreePointArc((-8.2, 37.7), (-8.053553391, 38.053553391), (-7.7, 38.2))
            Line((-7.7, 38.2), (-4, 38.2))
            ThreePointArc((-4, 38.2), (-2.444365081, 37.555634919), (-1.8, 36))
        make_face(mode=Mode.SUBTRACT)
    extrude(amount=-BOSS_EXTRU_1_DEPTH)


solid = part.part
